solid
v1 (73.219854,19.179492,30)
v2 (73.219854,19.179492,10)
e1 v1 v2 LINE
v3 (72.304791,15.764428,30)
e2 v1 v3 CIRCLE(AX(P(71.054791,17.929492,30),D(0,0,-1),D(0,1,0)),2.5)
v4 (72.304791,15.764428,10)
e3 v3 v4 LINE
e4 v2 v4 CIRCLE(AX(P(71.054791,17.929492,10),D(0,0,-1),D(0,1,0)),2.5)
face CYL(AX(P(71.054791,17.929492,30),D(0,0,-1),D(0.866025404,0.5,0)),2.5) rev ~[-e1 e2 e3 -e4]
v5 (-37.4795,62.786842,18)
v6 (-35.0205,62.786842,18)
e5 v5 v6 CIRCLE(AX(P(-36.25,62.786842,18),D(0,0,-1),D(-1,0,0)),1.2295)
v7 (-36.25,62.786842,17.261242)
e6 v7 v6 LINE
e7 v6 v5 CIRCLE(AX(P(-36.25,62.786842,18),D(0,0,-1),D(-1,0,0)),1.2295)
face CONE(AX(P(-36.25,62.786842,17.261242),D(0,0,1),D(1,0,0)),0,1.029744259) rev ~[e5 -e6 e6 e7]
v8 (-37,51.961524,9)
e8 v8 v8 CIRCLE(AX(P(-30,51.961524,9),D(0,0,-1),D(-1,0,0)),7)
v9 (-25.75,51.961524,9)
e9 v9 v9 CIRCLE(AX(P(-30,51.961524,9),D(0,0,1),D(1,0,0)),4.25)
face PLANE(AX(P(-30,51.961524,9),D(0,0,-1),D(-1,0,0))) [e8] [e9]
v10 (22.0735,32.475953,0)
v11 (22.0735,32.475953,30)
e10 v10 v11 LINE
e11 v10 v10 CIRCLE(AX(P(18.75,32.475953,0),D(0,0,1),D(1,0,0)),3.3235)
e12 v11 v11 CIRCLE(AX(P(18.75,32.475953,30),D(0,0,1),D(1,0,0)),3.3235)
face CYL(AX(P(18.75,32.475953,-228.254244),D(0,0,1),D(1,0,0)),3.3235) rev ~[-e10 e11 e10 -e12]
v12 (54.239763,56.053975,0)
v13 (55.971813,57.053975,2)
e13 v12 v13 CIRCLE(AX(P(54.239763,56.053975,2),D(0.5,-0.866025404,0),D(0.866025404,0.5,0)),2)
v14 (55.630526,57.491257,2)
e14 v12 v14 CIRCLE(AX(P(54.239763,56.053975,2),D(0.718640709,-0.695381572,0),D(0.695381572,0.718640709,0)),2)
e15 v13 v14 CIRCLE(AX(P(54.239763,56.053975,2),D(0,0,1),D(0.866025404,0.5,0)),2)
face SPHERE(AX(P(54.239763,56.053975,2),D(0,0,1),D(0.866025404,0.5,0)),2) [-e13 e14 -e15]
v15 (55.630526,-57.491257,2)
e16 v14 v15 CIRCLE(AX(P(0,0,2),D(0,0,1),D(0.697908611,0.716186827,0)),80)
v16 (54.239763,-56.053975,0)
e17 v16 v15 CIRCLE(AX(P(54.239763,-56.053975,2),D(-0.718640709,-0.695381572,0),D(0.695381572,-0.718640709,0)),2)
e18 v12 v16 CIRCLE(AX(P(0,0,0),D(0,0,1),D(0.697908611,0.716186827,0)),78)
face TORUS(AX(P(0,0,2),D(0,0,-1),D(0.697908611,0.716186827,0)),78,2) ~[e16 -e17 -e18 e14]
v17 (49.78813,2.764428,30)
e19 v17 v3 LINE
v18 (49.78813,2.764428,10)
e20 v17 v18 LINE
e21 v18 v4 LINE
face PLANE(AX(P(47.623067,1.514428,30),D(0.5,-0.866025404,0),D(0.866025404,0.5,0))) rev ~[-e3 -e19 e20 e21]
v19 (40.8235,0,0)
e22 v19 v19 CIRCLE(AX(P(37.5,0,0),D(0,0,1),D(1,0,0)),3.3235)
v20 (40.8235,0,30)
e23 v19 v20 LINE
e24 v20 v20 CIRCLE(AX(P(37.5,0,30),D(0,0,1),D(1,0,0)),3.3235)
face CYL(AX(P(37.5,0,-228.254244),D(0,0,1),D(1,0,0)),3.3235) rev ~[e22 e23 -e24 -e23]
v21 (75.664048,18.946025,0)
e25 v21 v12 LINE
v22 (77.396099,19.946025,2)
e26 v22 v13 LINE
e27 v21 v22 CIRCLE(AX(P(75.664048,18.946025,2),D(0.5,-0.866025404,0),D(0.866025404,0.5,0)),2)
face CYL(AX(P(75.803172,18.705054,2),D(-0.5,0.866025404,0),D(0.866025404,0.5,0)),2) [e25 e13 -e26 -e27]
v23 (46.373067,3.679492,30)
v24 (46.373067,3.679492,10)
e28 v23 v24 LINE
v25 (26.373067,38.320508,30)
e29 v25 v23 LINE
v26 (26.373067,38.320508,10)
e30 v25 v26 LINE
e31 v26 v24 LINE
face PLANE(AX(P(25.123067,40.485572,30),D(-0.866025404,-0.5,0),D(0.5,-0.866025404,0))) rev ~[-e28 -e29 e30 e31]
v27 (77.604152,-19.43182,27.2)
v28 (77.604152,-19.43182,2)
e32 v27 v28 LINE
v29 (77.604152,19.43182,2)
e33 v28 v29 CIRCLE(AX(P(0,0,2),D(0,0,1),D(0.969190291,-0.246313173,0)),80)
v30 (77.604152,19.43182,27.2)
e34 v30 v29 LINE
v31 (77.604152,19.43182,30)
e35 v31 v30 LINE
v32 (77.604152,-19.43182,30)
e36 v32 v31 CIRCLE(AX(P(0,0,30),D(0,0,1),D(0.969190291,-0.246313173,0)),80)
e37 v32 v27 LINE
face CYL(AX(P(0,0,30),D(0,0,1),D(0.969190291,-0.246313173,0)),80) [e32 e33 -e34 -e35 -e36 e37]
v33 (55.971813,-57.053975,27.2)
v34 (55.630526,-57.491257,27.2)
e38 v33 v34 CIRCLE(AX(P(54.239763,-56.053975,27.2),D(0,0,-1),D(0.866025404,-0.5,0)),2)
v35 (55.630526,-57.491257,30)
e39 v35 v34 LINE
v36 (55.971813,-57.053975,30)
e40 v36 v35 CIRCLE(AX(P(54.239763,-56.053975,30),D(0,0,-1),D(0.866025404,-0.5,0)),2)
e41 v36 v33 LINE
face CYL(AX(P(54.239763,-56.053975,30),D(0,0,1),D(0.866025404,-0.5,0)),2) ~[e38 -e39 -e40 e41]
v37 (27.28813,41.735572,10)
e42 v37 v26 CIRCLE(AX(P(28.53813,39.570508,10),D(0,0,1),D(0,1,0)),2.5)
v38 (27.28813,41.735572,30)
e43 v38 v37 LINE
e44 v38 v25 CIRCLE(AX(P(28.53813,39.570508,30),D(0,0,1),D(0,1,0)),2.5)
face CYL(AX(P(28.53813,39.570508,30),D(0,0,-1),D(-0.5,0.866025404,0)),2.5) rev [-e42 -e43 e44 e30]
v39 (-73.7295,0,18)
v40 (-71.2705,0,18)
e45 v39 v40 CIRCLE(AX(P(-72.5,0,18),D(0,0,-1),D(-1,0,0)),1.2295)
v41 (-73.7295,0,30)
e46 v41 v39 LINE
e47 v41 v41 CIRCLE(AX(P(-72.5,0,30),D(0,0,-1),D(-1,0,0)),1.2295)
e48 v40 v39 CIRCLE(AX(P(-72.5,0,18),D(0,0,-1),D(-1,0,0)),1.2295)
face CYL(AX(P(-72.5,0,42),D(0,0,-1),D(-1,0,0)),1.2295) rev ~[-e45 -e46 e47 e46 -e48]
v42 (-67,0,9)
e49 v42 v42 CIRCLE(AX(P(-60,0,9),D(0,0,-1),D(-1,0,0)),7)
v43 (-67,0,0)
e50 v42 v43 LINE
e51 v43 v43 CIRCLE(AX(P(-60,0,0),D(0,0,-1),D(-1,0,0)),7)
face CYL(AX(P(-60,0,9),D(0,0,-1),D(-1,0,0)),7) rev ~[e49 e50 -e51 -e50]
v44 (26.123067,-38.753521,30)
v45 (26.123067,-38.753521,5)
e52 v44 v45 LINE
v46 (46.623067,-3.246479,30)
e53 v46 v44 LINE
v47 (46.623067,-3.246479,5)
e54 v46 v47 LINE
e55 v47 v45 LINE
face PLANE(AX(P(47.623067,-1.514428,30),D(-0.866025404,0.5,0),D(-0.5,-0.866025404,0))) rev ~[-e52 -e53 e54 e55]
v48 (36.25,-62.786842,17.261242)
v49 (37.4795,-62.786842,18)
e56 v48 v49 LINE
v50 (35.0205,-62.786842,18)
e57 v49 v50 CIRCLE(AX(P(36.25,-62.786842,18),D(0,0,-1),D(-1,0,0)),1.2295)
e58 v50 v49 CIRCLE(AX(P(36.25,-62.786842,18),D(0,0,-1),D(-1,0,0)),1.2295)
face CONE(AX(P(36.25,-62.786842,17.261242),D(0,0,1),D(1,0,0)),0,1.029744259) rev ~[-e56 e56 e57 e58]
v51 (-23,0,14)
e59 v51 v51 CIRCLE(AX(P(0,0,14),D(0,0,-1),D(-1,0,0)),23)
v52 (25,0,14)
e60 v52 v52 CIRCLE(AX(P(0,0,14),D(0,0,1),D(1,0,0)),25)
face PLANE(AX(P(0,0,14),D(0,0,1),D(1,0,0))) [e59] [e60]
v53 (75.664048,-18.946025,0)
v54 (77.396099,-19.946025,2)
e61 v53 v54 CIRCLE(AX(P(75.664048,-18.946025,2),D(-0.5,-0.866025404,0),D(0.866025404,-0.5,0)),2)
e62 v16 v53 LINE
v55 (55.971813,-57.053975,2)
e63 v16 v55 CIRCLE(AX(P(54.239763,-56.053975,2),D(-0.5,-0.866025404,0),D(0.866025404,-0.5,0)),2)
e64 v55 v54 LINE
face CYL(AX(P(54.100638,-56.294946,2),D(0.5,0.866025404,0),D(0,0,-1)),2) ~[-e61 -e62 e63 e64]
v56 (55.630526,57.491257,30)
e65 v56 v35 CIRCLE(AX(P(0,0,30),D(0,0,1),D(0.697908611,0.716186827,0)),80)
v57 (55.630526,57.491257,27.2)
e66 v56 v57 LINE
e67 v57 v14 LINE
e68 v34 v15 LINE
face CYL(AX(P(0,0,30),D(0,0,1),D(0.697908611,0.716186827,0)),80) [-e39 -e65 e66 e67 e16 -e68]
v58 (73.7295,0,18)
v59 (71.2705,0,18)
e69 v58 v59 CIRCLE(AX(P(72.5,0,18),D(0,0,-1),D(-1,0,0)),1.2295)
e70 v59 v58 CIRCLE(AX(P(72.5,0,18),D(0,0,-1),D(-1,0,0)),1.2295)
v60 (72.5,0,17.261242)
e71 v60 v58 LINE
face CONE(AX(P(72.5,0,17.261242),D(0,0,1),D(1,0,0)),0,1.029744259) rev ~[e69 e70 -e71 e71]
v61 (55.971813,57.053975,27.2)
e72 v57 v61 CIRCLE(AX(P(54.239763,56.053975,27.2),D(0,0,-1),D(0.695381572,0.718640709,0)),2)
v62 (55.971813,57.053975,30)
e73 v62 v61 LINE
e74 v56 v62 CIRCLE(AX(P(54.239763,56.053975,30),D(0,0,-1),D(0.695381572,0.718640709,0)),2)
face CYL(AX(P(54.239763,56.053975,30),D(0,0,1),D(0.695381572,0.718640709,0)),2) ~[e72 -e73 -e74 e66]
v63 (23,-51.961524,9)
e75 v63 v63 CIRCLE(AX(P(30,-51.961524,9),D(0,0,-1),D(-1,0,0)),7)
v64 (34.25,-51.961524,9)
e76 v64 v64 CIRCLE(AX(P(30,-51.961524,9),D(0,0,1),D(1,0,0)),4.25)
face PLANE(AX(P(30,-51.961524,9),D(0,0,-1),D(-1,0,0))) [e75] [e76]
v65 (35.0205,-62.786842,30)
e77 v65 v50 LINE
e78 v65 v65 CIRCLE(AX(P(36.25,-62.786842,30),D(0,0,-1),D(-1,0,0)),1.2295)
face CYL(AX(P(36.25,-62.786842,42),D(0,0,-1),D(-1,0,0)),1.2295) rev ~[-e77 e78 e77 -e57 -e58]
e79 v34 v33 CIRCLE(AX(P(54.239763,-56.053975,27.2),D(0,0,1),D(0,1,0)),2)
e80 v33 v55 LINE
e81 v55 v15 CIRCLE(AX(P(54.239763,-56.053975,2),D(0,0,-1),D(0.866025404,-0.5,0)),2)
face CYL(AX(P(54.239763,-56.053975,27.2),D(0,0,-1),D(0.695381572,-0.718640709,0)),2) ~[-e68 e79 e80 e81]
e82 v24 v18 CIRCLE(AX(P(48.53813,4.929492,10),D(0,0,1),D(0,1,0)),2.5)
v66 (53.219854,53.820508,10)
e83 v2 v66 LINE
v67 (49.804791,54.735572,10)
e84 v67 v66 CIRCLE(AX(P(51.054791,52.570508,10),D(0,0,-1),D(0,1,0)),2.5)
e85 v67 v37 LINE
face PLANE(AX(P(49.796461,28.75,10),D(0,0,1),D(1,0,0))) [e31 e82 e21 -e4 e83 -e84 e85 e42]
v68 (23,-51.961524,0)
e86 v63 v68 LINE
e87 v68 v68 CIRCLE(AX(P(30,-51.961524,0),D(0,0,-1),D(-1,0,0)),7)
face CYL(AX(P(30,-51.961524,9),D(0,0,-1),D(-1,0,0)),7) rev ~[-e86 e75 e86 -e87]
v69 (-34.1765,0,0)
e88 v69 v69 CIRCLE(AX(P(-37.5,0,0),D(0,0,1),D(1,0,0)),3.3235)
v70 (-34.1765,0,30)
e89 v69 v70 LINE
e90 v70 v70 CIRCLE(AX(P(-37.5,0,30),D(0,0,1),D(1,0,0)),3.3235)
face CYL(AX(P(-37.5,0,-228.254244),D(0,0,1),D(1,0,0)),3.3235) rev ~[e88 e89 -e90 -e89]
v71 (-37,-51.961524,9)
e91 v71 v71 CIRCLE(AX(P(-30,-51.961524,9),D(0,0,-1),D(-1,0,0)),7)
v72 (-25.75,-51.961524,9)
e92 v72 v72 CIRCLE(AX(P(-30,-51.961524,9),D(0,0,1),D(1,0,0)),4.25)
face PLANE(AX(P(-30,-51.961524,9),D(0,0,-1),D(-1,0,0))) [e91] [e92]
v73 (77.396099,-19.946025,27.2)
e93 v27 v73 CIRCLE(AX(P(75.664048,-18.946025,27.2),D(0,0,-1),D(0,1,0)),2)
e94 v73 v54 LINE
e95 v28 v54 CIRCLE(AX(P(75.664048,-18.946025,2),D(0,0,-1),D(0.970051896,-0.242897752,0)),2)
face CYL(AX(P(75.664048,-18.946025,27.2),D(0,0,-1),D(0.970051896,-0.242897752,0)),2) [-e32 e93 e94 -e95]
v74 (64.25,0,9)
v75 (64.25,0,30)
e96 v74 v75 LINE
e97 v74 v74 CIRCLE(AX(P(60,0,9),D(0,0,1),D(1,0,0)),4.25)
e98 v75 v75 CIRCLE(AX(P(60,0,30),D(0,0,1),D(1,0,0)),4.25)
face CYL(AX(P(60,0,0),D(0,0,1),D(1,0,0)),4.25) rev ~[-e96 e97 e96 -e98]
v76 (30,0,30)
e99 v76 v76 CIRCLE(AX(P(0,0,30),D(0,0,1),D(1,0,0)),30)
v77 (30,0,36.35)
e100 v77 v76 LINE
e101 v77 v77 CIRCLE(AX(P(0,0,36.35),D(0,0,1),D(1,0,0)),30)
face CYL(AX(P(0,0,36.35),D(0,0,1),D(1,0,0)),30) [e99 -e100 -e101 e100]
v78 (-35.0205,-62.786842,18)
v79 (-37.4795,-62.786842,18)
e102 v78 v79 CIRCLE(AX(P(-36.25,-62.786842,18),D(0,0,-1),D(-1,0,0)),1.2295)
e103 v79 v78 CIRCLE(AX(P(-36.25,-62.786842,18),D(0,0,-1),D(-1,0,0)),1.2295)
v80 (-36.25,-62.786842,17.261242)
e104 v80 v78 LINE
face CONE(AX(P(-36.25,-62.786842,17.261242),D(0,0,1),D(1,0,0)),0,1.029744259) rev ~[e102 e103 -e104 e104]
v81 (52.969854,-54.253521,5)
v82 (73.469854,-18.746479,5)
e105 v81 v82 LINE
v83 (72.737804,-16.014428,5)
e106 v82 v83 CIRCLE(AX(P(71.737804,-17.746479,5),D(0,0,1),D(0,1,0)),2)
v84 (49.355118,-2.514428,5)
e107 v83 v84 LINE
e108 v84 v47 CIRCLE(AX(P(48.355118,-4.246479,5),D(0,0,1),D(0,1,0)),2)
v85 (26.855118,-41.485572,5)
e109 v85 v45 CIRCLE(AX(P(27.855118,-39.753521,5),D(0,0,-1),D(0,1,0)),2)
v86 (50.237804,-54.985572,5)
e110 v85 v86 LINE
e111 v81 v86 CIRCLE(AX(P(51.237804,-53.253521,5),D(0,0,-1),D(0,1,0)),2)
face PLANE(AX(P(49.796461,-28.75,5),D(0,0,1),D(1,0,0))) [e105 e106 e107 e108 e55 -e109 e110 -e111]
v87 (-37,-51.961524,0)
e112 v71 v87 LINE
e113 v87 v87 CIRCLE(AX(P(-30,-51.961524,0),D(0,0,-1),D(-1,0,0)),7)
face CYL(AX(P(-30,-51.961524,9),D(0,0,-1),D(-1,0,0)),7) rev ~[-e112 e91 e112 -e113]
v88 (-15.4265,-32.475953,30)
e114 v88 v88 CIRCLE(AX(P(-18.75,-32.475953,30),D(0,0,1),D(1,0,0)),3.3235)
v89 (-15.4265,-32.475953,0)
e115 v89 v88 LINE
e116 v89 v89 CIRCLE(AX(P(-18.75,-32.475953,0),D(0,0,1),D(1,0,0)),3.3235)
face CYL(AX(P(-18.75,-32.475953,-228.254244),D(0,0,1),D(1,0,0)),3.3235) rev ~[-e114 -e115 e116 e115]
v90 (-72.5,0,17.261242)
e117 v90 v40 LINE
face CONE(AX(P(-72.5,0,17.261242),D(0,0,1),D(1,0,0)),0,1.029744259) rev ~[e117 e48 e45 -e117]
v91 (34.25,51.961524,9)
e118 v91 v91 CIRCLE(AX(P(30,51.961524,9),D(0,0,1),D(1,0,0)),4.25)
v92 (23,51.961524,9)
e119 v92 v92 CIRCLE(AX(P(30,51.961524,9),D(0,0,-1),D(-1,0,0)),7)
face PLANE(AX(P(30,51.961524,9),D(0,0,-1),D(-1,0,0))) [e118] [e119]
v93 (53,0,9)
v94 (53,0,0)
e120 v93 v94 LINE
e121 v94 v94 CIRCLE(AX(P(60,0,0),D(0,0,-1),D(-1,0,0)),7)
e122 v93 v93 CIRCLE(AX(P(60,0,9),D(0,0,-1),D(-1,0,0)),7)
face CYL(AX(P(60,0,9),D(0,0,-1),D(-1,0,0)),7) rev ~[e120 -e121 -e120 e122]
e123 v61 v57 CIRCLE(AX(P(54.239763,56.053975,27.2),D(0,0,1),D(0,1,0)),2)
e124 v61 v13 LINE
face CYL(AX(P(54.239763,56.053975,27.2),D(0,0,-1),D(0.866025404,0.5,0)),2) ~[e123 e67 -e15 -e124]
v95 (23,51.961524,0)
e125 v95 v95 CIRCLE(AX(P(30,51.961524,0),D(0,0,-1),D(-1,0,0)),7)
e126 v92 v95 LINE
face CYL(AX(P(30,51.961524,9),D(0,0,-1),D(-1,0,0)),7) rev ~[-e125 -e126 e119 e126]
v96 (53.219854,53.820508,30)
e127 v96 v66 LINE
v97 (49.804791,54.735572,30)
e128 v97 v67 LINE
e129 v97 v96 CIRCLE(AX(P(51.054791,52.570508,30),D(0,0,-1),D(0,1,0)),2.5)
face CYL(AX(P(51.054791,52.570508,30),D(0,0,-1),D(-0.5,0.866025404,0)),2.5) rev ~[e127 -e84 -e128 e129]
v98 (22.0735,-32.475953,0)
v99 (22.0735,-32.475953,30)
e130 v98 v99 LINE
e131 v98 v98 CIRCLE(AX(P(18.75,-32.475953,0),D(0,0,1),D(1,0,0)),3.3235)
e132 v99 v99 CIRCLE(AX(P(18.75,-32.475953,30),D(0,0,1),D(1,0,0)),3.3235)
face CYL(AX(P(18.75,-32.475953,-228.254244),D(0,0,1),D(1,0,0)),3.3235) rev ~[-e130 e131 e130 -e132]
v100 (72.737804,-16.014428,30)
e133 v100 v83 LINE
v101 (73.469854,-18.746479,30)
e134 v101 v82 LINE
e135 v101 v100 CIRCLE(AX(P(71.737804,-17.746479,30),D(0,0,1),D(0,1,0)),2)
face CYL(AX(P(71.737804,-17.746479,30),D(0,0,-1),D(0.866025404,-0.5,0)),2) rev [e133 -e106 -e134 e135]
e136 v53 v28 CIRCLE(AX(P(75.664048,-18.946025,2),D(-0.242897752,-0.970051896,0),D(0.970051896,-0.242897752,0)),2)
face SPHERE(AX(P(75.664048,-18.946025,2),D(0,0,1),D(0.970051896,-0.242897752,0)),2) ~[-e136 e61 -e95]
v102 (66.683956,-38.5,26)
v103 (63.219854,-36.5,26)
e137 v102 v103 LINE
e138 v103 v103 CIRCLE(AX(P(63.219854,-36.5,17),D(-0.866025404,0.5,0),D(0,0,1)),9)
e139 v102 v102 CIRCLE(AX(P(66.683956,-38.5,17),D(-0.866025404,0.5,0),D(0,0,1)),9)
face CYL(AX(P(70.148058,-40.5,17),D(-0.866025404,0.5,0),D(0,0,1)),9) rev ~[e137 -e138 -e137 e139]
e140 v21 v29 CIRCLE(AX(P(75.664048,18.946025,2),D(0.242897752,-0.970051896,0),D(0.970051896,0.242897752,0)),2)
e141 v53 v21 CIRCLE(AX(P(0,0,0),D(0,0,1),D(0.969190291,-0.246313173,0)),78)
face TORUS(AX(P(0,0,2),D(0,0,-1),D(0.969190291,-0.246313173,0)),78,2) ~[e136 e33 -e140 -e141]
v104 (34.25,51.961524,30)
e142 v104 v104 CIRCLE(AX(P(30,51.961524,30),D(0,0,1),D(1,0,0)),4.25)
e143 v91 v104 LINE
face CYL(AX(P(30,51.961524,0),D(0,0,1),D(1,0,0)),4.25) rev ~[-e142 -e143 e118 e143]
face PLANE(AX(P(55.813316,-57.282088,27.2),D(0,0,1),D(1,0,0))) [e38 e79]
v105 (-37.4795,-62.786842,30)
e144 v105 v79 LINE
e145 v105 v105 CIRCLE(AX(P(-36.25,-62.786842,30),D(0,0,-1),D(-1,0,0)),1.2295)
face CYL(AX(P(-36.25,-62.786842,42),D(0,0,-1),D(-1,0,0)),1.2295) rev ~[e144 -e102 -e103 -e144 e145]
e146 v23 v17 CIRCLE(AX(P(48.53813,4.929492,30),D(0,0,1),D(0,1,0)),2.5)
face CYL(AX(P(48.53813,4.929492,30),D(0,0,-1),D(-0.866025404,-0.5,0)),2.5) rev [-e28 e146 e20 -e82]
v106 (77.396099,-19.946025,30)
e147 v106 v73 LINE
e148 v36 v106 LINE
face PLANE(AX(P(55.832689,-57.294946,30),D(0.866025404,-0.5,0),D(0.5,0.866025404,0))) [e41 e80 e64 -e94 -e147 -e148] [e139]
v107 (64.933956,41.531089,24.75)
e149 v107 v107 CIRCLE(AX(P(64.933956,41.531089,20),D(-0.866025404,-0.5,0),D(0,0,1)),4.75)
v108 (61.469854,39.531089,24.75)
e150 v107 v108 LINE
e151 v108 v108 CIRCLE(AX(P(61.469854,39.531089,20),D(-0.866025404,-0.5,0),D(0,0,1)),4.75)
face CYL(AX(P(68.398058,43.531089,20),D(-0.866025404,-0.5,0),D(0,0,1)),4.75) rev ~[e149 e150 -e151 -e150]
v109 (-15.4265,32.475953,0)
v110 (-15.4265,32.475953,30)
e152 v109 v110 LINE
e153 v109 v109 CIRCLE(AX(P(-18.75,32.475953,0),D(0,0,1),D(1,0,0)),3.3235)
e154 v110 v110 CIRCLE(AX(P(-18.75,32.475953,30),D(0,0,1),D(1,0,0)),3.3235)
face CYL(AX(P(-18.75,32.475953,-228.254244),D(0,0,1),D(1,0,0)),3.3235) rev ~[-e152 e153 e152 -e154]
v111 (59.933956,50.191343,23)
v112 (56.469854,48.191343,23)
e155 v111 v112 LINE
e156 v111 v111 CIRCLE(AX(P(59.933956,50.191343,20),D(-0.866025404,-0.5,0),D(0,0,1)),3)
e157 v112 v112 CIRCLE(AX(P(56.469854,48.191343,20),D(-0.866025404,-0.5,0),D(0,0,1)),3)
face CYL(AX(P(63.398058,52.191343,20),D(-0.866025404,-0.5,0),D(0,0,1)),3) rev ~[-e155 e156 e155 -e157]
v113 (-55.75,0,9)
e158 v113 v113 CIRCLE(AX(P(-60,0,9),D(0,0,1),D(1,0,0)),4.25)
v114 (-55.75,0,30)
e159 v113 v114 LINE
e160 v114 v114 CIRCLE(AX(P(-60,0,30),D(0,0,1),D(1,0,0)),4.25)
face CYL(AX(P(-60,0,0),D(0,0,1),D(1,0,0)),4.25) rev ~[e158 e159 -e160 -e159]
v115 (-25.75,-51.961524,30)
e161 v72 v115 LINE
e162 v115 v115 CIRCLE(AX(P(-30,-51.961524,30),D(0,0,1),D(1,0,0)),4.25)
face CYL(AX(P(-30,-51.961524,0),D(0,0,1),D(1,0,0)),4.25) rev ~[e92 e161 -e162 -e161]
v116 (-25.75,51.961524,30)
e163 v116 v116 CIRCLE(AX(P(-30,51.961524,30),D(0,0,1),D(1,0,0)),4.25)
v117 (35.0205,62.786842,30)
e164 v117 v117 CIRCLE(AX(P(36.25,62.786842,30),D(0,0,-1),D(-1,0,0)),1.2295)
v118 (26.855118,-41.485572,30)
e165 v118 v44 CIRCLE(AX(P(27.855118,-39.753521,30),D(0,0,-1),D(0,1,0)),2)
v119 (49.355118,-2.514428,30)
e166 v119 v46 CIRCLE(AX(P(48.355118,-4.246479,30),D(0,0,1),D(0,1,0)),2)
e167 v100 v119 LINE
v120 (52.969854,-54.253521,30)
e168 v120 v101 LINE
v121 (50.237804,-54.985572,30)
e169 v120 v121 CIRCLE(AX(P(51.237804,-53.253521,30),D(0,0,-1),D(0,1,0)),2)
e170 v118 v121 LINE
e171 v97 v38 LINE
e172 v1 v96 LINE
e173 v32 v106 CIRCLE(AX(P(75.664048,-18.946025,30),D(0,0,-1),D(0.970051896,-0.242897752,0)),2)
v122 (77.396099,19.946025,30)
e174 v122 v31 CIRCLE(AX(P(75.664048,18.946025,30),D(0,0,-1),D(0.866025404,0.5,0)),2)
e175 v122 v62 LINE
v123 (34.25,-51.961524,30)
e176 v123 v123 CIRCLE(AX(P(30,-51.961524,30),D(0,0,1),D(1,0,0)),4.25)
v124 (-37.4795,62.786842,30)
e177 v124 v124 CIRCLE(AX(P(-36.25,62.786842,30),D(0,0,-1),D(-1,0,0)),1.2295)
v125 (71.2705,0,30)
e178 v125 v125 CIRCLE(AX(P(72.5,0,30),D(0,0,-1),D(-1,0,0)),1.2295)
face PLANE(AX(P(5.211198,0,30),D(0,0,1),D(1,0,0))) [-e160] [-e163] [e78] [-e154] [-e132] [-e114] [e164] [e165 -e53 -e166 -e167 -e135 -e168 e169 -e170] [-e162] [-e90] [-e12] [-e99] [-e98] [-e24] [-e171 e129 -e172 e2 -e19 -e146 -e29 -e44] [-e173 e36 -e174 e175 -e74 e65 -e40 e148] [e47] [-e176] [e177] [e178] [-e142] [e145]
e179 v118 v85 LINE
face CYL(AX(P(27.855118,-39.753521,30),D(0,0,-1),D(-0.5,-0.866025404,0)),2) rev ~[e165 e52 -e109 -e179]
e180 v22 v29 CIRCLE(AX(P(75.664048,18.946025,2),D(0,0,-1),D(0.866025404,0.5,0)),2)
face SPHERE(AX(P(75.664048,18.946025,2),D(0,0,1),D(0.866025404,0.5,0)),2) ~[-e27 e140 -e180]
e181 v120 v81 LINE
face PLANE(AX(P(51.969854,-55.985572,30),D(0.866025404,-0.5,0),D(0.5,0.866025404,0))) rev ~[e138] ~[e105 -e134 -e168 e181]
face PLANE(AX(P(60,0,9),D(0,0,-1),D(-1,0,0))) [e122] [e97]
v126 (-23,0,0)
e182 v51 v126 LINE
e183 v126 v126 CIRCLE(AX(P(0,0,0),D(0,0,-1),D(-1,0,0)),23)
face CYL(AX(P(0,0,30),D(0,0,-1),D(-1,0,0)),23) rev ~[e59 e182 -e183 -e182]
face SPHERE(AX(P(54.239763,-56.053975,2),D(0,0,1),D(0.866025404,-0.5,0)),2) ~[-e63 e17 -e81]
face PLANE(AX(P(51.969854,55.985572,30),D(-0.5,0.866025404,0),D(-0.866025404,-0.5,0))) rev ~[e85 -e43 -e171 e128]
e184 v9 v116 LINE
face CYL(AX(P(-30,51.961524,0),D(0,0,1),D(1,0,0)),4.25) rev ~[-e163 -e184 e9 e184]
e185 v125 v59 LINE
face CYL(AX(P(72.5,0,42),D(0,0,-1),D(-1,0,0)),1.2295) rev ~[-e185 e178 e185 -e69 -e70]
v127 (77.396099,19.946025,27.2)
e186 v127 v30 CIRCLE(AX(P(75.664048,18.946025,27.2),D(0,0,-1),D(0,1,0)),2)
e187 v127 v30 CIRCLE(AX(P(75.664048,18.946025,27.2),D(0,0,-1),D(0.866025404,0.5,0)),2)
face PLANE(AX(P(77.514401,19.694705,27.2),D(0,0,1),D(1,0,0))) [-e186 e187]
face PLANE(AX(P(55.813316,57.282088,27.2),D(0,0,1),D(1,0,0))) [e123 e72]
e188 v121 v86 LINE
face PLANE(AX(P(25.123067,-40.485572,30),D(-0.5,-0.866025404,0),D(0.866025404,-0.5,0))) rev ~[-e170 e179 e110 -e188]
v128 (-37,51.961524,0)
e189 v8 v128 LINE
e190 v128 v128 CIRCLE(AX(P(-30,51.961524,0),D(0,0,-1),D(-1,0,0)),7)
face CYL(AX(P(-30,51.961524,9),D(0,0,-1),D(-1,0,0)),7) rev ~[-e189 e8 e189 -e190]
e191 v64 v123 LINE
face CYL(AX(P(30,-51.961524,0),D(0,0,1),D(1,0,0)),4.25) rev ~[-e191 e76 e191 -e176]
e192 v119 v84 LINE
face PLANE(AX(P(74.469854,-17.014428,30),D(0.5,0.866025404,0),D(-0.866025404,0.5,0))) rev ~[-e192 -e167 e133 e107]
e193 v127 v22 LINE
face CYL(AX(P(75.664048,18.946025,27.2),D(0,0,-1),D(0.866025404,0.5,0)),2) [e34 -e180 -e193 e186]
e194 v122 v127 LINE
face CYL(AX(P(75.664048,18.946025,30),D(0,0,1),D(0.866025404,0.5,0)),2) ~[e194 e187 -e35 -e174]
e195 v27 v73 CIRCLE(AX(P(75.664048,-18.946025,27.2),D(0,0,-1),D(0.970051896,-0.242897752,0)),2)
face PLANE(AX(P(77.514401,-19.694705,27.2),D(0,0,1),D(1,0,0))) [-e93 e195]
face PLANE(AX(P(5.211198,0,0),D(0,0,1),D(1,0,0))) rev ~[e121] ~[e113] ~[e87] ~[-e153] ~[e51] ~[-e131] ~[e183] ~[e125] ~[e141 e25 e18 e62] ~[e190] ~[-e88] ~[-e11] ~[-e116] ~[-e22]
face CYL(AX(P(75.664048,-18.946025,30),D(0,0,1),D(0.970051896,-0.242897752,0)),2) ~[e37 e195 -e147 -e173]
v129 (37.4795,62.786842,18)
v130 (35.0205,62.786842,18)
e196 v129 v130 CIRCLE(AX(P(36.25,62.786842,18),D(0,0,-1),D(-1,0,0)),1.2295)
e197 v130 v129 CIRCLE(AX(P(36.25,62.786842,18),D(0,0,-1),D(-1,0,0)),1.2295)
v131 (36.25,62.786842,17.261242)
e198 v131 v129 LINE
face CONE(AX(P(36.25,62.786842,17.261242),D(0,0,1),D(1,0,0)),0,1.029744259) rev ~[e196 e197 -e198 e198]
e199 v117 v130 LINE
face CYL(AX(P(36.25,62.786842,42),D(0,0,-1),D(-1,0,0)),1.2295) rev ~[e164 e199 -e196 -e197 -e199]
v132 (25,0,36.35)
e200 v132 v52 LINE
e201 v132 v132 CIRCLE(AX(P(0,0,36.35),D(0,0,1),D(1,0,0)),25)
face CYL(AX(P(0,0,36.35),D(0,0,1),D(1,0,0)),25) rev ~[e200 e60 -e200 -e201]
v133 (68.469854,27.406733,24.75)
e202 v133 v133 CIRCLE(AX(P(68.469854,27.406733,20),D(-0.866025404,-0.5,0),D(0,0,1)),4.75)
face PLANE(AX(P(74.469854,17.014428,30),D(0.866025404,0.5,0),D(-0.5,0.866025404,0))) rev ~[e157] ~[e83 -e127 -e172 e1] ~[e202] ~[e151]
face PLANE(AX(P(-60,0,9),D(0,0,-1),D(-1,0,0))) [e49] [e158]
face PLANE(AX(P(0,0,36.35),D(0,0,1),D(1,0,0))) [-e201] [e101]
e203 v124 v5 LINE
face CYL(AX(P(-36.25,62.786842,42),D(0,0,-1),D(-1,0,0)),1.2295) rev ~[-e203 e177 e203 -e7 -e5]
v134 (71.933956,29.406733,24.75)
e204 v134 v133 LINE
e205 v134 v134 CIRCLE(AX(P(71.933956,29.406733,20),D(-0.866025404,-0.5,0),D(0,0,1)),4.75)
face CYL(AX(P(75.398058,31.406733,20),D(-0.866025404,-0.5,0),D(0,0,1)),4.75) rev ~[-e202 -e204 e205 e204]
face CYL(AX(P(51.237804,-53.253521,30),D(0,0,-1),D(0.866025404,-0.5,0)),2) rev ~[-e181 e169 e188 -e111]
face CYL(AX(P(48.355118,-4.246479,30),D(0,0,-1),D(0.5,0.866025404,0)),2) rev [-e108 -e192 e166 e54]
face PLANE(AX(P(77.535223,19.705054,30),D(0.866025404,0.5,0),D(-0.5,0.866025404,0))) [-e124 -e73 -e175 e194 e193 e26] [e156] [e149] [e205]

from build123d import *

# Parameters (mm, degrees)
BOSS_EXTRUDE1_DEPTH                      = 29.999999999999996
CUT_EXTRUDE1_DEPTH                       = 2.8000000000000003
CUT_EXTRUDE2_DEPTH                       = 2.8000000000000003
CUT_EXTRUDE3_DEPTH                       = 2.8000000000000003
CUT_EXTRUDE4_DEPTH                       = 2.8000000000000003
CUT_EXTRUDE5_DEPTH                       = 25
CUT_EXTRUDE6_DEPTH                       = 19.999999999999996
CBORE_FOR_M8_HEX_HEAD_BOLT1_D            = 8.5
CBORE_FOR_M8_HEX_HEAD_BOLT1_CBORE_D      = 14
CBORE_FOR_M8_HEX_HEAD_BOLT1_CBORE_DEPTH  = 9
CBORE_FOR_M42_HEX_HEAD_BOLT1_D           = 46
CBORE_FOR_M42_HEX_HEAD_BOLT1_CBORE_D     = 60
CBORE_FOR_M42_HEX_HEAD_BOLT1_CBORE_DEPTH = 16
M6_CLEARANCE_HOLE1_D                     = 6.647
F_18_0_18_DIAMETER_HOLE1_D               = 18
F_18_0_18_DIAMETER_HOLE1_DEPTH           = 4
F_6_0_6_DIAMETER_HOLE1_D                 = 6
F_6_0_6_DIAMETER_HOLE1_DEPTH             = 4
F_9_5_9_5_DIAMETER_HOLE1_D               = 9.5
F_9_5_9_5_DIAMETER_HOLE1_DEPTH           = 4
M2_CLEARANCE_HOLE1_D                     = 2.459
M2_CLEARANCE_HOLE1_DEPTH                 = 11.999999999
M2_CLEARANCE_HOLE1_TIP                   = 0.7387581310943854
FILLET1_R                                = 2
FILLET2_R                                = 2.5
BOSS_EXTRUDE2_START                      = 22.35
SKETCH24_R                               = 30
SKETCH24_R_2                             = 25
BOSS_EXTRUDE2_DEPTH                      = 22.35


with BuildPart() as part:
    # Sketch1 → Boss-Extrude1 (new body)
    with BuildSketch(Plane.XY.offset(30)):
        with BuildLine():
            Line((77.53522329850713, 19.70505387078747), (55.83268888429636, 57.29494612921257))
            ThreePointArc((55.83268888429636, 57.29494612921257), (-80, -6.126e-14), (55.83268888429644, -57.2949461292125))
            Line((55.83268888429644, -57.2949461292125), (77.53522329850712, -19.705053870787513))
            ThreePointArc((77.53522329850712, -19.705053870787513), (80, -2.22e-14), (77.53522329850713, 19.70505387078747))
        make_face()
    extrude(amount=-BOSS_EXTRUDE1_DEPTH)

    # Sketch2 → Cut-Extrude1 (cut)
    with BuildSketch(Plane.XY.offset(30)):
        with BuildLine():
            Line((77.39609873421605, -19.946024684720538), (77.53522329850712, -19.705053870787513))
            ThreePointArc((77.53522329850712, -19.705053870787513), (77.56980781474408, -19.568467379528453), (77.60415171963812, -19.431820189456964))
            ThreePointArc((77.60415171963812, -19.431820189456964), (77.51803860039408, -19.696170391673196), (77.39609873421605, -19.946024684720538))
        make_face()
    extrude(amount=-CUT_EXTRUDE1_DEPTH, mode=Mode.SUBTRACT)

    # Sketch3 → Cut-Extrude2 (cut)
    with BuildSketch(Plane.XY.offset(30)):
        with BuildLine():
            Line((55.971813448587454, 57.05397531527954), (55.83268888429636, 57.29494612921257))
            ThreePointArc((55.83268888429636, 57.29494612921257), (55.73169377117071, 57.39319044448088), (55.630525785660076, 57.49125673362003))
            ThreePointArc((55.630525785660076, 57.49125673362003), (55.81640321665286, 57.28450548364745), (55.971813448587454, 57.05397531527954))
        make_face()
    extrude(amount=-CUT_EXTRUDE2_DEPTH, mode=Mode.SUBTRACT)

    # Sketch4 → Cut-Extrude3 (cut)
    with BuildSketch(Plane.XY.offset(30)):
        with BuildLine():
            Line((55.83268888429644, -57.2949461292125), (55.971813448587504, -57.05397531527945))
            ThreePointArc((55.971813448587504, -57.05397531527945), (55.816403216652915, -57.284505483647365), (55.63052578566014, -57.491256733619956))
            ThreePointArc((55.63052578566014, -57.491256733619956), (55.73169377117078, -57.3931904444808), (55.83268888429644, -57.2949461292125))
        make_face()
    extrude(amount=-CUT_EXTRUDE3_DEPTH, mode=Mode.SUBTRACT)

    # Sketch5 → Cut-Extrude4 (cut)
    with BuildSketch(Plane.XY.offset(30)):
        with BuildLine():
            Line((77.53522329850713, 19.70505387078747), (77.39609873421605, 19.94602468472051))
            ThreePointArc((77.39609873421605, 19.94602468472051), (77.51803860039408, 19.696170391673164), (77.60415171963812, 19.43182018945693))
            ThreePointArc((77.60415171963812, 19.43182018945693), (77.56980781474407, 19.56846737952841), (77.53522329850713, 19.70505387078747))
        make_face()
    extrude(amount=-CUT_EXTRUDE4_DEPTH, mode=Mode.SUBTRACT)

    # Sketch6 → Cut-Extrude5 (cut)
    with BuildSketch(Plane.XY.offset(30)):
        Polygon((51.969854476264025, -55.985571585149884), (74.46985447626403, -17.014428414850173), (47.62306695894643, -1.5144284148501383), (25.123066958946435, -40.4855715851499), align=None)
    extrude(amount=-CUT_EXTRUDE5_DEPTH, mode=Mode.SUBTRACT)

    # Sketch7 → Cut-Extrude6 (cut)
    with BuildSketch(Plane.XY.offset(30)):
        Polygon((51.96985447626403, 55.98557158514987), (25.12306695894642, 40.48557158514987), (47.62306695894643, 1.5144284148501332), (74.46985447626402, 17.014428414850116), align=None)
    extrude(amount=-CUT_EXTRUDE6_DEPTH, mode=Mode.SUBTRACT)

    # CBORE for M8 Hex Head Bolt1 (through all)
    with Locations(Plane(origin=(0, 0, 0), x_dir=(-1, 0, 0), z_dir=(0, 0, -1))):
        with Locations((30, -51.961524227), (-30, -51.961524227), (-60, 0), (-30, 51.961524227), (30, 51.961524227), (60, 0)):
            CounterBoreHole(CBORE_FOR_M8_HEX_HEAD_BOLT1_D / 2, CBORE_FOR_M8_HEX_HEAD_BOLT1_CBORE_D / 2, CBORE_FOR_M8_HEX_HEAD_BOLT1_CBORE_DEPTH)

    # CBORE for M42 Hex Head Bolt1 (through all)
    with Locations(Plane.XY.offset(30)):
        with Locations((0, 0)):
            CounterBoreHole(CBORE_FOR_M42_HEX_HEAD_BOLT1_D / 2, CBORE_FOR_M42_HEX_HEAD_BOLT1_CBORE_D / 2, CBORE_FOR_M42_HEX_HEAD_BOLT1_CBORE_DEPTH)

    # M6 Clearance Hole1 (through all)
    with Locations(Plane(origin=(0, 0, 0), x_dir=(-1, 0, 0), z_dir=(0, 0, -1))):
        with Locations((18.75, 32.475952642), (-18.75, 32.475952642), (-37.5, 0), (-18.75, -32.475952642), (18.75, -32.475952642), (37.5, 0)):
            Hole(M6_CLEARANCE_HOLE1_D / 2)

    # Ø18.0 (18) Diameter Hole1
    with Locations(Plane(origin=(66.6839560914018, -38.499999999999986, 0), x_dir=(0, 0, -1), z_dir=(0.8660254037844387, -0.49999999999999983, 0))):
        with Locations((-17, 0)):
            Hole(F_18_0_18_DIAMETER_HOLE1_D / 2, depth=F_18_0_18_DIAMETER_HOLE1_DEPTH)

    # Ø6.0 (6) Diameter Hole1
    with Locations(Plane(origin=(66.68395609140181, 38.50000000000004, 0), x_dir=(0, 0, -1), z_dir=(0.8660254037844385, 0.5000000000000006, 0))):
        with Locations((-20, 13.5)):
            Hole(F_6_0_6_DIAMETER_HOLE1_D / 2, depth=F_6_0_6_DIAMETER_HOLE1_DEPTH)

    # Ø9.5 (9.5) Diameter Hole1
    with Locations(Plane(origin=(66.68395609140181, 38.50000000000004, 0), x_dir=(0, 0, -1), z_dir=(0.8660254037844385, 0.5000000000000006, 0))):
        with Locations((-20, 3.5), (-20, -10.5)):
            Hole(F_9_5_9_5_DIAMETER_HOLE1_D / 2, depth=F_9_5_9_5_DIAMETER_HOLE1_DEPTH)

    # M2 Clearance Hole1
    with Locations(Plane.XY.offset(30)):
        with Locations((-36.25, -62.786841774), (-72.5, 0), (-36.25, 62.786841774), (36.25, 62.786841774), (72.5, 0), (36.25, -62.786841774)):
            Hole(M2_CLEARANCE_HOLE1_D / 2, depth=M2_CLEARANCE_HOLE1_DEPTH)
            with Locations((0, 0, -(M2_CLEARANCE_HOLE1_DEPTH + M2_CLEARANCE_HOLE1_TIP / 2))):  # 118° drill point
                Cone(0, M2_CLEARANCE_HOLE1_D / 2, M2_CLEARANCE_HOLE1_TIP, mode=Mode.SUBTRACT)

    # Fillet1
    fillet1_edges = [part.edges().sort_by_distance(p)[0] for p in [
        (25.123066958946435, -40.4855715851499, 17.5),
        (74.46985447626403, -17.014428414850173, 17.5),
        (77.53522329850713, -19.705053870787516, 13.600000000000001),
        (80, -1.688e-14, 3.55e-15),
        (77.53522329850713, 19.705053870787474, 13.600000000000001),
        (55.83268888429644, -57.294946129212505, 13.600000000000001),
        (55.83268888429636, 57.29494612921257, 13.600000000000001),
        (66.68395609140178, -38.50000000000001, 3.55e-15),
        (66.68395609140174, 38.500000000000014, 3.55e-15),
        (-80, -5.684e-14, 3.55e-15),
        (51.969854476264025, -55.985571585149884, 17.5),
        (47.62306695894643, -1.5144284148501383, 17.5),
    ]]
    fillet(fillet1_edges, radius=FILLET1_R)

    # Fillet2
    fillet2_edges = [part.edges().sort_by_distance(p)[0] for p in [
        (51.96985447626403, 55.98557158514987, 20),
        (74.46985447626402, 17.014428414850116, 20),
        (47.62306695894643, 1.5144284148501332, 20),
        (25.12306695894642, 40.48557158514987, 20),
    ]]
    fillet(fillet2_edges, radius=FILLET2_R)

    # Sketch24 → Boss-Extrude2 (add)
    with BuildSketch(Plane.XY.offset(13.999999999999998).offset(BOSS_EXTRUDE2_START)):
        Circle(SKETCH24_R)
        Circle(SKETCH24_R_2, mode=Mode.SUBTRACT)
    extrude(amount=-BOSS_EXTRUDE2_DEPTH)


solid = part.part
